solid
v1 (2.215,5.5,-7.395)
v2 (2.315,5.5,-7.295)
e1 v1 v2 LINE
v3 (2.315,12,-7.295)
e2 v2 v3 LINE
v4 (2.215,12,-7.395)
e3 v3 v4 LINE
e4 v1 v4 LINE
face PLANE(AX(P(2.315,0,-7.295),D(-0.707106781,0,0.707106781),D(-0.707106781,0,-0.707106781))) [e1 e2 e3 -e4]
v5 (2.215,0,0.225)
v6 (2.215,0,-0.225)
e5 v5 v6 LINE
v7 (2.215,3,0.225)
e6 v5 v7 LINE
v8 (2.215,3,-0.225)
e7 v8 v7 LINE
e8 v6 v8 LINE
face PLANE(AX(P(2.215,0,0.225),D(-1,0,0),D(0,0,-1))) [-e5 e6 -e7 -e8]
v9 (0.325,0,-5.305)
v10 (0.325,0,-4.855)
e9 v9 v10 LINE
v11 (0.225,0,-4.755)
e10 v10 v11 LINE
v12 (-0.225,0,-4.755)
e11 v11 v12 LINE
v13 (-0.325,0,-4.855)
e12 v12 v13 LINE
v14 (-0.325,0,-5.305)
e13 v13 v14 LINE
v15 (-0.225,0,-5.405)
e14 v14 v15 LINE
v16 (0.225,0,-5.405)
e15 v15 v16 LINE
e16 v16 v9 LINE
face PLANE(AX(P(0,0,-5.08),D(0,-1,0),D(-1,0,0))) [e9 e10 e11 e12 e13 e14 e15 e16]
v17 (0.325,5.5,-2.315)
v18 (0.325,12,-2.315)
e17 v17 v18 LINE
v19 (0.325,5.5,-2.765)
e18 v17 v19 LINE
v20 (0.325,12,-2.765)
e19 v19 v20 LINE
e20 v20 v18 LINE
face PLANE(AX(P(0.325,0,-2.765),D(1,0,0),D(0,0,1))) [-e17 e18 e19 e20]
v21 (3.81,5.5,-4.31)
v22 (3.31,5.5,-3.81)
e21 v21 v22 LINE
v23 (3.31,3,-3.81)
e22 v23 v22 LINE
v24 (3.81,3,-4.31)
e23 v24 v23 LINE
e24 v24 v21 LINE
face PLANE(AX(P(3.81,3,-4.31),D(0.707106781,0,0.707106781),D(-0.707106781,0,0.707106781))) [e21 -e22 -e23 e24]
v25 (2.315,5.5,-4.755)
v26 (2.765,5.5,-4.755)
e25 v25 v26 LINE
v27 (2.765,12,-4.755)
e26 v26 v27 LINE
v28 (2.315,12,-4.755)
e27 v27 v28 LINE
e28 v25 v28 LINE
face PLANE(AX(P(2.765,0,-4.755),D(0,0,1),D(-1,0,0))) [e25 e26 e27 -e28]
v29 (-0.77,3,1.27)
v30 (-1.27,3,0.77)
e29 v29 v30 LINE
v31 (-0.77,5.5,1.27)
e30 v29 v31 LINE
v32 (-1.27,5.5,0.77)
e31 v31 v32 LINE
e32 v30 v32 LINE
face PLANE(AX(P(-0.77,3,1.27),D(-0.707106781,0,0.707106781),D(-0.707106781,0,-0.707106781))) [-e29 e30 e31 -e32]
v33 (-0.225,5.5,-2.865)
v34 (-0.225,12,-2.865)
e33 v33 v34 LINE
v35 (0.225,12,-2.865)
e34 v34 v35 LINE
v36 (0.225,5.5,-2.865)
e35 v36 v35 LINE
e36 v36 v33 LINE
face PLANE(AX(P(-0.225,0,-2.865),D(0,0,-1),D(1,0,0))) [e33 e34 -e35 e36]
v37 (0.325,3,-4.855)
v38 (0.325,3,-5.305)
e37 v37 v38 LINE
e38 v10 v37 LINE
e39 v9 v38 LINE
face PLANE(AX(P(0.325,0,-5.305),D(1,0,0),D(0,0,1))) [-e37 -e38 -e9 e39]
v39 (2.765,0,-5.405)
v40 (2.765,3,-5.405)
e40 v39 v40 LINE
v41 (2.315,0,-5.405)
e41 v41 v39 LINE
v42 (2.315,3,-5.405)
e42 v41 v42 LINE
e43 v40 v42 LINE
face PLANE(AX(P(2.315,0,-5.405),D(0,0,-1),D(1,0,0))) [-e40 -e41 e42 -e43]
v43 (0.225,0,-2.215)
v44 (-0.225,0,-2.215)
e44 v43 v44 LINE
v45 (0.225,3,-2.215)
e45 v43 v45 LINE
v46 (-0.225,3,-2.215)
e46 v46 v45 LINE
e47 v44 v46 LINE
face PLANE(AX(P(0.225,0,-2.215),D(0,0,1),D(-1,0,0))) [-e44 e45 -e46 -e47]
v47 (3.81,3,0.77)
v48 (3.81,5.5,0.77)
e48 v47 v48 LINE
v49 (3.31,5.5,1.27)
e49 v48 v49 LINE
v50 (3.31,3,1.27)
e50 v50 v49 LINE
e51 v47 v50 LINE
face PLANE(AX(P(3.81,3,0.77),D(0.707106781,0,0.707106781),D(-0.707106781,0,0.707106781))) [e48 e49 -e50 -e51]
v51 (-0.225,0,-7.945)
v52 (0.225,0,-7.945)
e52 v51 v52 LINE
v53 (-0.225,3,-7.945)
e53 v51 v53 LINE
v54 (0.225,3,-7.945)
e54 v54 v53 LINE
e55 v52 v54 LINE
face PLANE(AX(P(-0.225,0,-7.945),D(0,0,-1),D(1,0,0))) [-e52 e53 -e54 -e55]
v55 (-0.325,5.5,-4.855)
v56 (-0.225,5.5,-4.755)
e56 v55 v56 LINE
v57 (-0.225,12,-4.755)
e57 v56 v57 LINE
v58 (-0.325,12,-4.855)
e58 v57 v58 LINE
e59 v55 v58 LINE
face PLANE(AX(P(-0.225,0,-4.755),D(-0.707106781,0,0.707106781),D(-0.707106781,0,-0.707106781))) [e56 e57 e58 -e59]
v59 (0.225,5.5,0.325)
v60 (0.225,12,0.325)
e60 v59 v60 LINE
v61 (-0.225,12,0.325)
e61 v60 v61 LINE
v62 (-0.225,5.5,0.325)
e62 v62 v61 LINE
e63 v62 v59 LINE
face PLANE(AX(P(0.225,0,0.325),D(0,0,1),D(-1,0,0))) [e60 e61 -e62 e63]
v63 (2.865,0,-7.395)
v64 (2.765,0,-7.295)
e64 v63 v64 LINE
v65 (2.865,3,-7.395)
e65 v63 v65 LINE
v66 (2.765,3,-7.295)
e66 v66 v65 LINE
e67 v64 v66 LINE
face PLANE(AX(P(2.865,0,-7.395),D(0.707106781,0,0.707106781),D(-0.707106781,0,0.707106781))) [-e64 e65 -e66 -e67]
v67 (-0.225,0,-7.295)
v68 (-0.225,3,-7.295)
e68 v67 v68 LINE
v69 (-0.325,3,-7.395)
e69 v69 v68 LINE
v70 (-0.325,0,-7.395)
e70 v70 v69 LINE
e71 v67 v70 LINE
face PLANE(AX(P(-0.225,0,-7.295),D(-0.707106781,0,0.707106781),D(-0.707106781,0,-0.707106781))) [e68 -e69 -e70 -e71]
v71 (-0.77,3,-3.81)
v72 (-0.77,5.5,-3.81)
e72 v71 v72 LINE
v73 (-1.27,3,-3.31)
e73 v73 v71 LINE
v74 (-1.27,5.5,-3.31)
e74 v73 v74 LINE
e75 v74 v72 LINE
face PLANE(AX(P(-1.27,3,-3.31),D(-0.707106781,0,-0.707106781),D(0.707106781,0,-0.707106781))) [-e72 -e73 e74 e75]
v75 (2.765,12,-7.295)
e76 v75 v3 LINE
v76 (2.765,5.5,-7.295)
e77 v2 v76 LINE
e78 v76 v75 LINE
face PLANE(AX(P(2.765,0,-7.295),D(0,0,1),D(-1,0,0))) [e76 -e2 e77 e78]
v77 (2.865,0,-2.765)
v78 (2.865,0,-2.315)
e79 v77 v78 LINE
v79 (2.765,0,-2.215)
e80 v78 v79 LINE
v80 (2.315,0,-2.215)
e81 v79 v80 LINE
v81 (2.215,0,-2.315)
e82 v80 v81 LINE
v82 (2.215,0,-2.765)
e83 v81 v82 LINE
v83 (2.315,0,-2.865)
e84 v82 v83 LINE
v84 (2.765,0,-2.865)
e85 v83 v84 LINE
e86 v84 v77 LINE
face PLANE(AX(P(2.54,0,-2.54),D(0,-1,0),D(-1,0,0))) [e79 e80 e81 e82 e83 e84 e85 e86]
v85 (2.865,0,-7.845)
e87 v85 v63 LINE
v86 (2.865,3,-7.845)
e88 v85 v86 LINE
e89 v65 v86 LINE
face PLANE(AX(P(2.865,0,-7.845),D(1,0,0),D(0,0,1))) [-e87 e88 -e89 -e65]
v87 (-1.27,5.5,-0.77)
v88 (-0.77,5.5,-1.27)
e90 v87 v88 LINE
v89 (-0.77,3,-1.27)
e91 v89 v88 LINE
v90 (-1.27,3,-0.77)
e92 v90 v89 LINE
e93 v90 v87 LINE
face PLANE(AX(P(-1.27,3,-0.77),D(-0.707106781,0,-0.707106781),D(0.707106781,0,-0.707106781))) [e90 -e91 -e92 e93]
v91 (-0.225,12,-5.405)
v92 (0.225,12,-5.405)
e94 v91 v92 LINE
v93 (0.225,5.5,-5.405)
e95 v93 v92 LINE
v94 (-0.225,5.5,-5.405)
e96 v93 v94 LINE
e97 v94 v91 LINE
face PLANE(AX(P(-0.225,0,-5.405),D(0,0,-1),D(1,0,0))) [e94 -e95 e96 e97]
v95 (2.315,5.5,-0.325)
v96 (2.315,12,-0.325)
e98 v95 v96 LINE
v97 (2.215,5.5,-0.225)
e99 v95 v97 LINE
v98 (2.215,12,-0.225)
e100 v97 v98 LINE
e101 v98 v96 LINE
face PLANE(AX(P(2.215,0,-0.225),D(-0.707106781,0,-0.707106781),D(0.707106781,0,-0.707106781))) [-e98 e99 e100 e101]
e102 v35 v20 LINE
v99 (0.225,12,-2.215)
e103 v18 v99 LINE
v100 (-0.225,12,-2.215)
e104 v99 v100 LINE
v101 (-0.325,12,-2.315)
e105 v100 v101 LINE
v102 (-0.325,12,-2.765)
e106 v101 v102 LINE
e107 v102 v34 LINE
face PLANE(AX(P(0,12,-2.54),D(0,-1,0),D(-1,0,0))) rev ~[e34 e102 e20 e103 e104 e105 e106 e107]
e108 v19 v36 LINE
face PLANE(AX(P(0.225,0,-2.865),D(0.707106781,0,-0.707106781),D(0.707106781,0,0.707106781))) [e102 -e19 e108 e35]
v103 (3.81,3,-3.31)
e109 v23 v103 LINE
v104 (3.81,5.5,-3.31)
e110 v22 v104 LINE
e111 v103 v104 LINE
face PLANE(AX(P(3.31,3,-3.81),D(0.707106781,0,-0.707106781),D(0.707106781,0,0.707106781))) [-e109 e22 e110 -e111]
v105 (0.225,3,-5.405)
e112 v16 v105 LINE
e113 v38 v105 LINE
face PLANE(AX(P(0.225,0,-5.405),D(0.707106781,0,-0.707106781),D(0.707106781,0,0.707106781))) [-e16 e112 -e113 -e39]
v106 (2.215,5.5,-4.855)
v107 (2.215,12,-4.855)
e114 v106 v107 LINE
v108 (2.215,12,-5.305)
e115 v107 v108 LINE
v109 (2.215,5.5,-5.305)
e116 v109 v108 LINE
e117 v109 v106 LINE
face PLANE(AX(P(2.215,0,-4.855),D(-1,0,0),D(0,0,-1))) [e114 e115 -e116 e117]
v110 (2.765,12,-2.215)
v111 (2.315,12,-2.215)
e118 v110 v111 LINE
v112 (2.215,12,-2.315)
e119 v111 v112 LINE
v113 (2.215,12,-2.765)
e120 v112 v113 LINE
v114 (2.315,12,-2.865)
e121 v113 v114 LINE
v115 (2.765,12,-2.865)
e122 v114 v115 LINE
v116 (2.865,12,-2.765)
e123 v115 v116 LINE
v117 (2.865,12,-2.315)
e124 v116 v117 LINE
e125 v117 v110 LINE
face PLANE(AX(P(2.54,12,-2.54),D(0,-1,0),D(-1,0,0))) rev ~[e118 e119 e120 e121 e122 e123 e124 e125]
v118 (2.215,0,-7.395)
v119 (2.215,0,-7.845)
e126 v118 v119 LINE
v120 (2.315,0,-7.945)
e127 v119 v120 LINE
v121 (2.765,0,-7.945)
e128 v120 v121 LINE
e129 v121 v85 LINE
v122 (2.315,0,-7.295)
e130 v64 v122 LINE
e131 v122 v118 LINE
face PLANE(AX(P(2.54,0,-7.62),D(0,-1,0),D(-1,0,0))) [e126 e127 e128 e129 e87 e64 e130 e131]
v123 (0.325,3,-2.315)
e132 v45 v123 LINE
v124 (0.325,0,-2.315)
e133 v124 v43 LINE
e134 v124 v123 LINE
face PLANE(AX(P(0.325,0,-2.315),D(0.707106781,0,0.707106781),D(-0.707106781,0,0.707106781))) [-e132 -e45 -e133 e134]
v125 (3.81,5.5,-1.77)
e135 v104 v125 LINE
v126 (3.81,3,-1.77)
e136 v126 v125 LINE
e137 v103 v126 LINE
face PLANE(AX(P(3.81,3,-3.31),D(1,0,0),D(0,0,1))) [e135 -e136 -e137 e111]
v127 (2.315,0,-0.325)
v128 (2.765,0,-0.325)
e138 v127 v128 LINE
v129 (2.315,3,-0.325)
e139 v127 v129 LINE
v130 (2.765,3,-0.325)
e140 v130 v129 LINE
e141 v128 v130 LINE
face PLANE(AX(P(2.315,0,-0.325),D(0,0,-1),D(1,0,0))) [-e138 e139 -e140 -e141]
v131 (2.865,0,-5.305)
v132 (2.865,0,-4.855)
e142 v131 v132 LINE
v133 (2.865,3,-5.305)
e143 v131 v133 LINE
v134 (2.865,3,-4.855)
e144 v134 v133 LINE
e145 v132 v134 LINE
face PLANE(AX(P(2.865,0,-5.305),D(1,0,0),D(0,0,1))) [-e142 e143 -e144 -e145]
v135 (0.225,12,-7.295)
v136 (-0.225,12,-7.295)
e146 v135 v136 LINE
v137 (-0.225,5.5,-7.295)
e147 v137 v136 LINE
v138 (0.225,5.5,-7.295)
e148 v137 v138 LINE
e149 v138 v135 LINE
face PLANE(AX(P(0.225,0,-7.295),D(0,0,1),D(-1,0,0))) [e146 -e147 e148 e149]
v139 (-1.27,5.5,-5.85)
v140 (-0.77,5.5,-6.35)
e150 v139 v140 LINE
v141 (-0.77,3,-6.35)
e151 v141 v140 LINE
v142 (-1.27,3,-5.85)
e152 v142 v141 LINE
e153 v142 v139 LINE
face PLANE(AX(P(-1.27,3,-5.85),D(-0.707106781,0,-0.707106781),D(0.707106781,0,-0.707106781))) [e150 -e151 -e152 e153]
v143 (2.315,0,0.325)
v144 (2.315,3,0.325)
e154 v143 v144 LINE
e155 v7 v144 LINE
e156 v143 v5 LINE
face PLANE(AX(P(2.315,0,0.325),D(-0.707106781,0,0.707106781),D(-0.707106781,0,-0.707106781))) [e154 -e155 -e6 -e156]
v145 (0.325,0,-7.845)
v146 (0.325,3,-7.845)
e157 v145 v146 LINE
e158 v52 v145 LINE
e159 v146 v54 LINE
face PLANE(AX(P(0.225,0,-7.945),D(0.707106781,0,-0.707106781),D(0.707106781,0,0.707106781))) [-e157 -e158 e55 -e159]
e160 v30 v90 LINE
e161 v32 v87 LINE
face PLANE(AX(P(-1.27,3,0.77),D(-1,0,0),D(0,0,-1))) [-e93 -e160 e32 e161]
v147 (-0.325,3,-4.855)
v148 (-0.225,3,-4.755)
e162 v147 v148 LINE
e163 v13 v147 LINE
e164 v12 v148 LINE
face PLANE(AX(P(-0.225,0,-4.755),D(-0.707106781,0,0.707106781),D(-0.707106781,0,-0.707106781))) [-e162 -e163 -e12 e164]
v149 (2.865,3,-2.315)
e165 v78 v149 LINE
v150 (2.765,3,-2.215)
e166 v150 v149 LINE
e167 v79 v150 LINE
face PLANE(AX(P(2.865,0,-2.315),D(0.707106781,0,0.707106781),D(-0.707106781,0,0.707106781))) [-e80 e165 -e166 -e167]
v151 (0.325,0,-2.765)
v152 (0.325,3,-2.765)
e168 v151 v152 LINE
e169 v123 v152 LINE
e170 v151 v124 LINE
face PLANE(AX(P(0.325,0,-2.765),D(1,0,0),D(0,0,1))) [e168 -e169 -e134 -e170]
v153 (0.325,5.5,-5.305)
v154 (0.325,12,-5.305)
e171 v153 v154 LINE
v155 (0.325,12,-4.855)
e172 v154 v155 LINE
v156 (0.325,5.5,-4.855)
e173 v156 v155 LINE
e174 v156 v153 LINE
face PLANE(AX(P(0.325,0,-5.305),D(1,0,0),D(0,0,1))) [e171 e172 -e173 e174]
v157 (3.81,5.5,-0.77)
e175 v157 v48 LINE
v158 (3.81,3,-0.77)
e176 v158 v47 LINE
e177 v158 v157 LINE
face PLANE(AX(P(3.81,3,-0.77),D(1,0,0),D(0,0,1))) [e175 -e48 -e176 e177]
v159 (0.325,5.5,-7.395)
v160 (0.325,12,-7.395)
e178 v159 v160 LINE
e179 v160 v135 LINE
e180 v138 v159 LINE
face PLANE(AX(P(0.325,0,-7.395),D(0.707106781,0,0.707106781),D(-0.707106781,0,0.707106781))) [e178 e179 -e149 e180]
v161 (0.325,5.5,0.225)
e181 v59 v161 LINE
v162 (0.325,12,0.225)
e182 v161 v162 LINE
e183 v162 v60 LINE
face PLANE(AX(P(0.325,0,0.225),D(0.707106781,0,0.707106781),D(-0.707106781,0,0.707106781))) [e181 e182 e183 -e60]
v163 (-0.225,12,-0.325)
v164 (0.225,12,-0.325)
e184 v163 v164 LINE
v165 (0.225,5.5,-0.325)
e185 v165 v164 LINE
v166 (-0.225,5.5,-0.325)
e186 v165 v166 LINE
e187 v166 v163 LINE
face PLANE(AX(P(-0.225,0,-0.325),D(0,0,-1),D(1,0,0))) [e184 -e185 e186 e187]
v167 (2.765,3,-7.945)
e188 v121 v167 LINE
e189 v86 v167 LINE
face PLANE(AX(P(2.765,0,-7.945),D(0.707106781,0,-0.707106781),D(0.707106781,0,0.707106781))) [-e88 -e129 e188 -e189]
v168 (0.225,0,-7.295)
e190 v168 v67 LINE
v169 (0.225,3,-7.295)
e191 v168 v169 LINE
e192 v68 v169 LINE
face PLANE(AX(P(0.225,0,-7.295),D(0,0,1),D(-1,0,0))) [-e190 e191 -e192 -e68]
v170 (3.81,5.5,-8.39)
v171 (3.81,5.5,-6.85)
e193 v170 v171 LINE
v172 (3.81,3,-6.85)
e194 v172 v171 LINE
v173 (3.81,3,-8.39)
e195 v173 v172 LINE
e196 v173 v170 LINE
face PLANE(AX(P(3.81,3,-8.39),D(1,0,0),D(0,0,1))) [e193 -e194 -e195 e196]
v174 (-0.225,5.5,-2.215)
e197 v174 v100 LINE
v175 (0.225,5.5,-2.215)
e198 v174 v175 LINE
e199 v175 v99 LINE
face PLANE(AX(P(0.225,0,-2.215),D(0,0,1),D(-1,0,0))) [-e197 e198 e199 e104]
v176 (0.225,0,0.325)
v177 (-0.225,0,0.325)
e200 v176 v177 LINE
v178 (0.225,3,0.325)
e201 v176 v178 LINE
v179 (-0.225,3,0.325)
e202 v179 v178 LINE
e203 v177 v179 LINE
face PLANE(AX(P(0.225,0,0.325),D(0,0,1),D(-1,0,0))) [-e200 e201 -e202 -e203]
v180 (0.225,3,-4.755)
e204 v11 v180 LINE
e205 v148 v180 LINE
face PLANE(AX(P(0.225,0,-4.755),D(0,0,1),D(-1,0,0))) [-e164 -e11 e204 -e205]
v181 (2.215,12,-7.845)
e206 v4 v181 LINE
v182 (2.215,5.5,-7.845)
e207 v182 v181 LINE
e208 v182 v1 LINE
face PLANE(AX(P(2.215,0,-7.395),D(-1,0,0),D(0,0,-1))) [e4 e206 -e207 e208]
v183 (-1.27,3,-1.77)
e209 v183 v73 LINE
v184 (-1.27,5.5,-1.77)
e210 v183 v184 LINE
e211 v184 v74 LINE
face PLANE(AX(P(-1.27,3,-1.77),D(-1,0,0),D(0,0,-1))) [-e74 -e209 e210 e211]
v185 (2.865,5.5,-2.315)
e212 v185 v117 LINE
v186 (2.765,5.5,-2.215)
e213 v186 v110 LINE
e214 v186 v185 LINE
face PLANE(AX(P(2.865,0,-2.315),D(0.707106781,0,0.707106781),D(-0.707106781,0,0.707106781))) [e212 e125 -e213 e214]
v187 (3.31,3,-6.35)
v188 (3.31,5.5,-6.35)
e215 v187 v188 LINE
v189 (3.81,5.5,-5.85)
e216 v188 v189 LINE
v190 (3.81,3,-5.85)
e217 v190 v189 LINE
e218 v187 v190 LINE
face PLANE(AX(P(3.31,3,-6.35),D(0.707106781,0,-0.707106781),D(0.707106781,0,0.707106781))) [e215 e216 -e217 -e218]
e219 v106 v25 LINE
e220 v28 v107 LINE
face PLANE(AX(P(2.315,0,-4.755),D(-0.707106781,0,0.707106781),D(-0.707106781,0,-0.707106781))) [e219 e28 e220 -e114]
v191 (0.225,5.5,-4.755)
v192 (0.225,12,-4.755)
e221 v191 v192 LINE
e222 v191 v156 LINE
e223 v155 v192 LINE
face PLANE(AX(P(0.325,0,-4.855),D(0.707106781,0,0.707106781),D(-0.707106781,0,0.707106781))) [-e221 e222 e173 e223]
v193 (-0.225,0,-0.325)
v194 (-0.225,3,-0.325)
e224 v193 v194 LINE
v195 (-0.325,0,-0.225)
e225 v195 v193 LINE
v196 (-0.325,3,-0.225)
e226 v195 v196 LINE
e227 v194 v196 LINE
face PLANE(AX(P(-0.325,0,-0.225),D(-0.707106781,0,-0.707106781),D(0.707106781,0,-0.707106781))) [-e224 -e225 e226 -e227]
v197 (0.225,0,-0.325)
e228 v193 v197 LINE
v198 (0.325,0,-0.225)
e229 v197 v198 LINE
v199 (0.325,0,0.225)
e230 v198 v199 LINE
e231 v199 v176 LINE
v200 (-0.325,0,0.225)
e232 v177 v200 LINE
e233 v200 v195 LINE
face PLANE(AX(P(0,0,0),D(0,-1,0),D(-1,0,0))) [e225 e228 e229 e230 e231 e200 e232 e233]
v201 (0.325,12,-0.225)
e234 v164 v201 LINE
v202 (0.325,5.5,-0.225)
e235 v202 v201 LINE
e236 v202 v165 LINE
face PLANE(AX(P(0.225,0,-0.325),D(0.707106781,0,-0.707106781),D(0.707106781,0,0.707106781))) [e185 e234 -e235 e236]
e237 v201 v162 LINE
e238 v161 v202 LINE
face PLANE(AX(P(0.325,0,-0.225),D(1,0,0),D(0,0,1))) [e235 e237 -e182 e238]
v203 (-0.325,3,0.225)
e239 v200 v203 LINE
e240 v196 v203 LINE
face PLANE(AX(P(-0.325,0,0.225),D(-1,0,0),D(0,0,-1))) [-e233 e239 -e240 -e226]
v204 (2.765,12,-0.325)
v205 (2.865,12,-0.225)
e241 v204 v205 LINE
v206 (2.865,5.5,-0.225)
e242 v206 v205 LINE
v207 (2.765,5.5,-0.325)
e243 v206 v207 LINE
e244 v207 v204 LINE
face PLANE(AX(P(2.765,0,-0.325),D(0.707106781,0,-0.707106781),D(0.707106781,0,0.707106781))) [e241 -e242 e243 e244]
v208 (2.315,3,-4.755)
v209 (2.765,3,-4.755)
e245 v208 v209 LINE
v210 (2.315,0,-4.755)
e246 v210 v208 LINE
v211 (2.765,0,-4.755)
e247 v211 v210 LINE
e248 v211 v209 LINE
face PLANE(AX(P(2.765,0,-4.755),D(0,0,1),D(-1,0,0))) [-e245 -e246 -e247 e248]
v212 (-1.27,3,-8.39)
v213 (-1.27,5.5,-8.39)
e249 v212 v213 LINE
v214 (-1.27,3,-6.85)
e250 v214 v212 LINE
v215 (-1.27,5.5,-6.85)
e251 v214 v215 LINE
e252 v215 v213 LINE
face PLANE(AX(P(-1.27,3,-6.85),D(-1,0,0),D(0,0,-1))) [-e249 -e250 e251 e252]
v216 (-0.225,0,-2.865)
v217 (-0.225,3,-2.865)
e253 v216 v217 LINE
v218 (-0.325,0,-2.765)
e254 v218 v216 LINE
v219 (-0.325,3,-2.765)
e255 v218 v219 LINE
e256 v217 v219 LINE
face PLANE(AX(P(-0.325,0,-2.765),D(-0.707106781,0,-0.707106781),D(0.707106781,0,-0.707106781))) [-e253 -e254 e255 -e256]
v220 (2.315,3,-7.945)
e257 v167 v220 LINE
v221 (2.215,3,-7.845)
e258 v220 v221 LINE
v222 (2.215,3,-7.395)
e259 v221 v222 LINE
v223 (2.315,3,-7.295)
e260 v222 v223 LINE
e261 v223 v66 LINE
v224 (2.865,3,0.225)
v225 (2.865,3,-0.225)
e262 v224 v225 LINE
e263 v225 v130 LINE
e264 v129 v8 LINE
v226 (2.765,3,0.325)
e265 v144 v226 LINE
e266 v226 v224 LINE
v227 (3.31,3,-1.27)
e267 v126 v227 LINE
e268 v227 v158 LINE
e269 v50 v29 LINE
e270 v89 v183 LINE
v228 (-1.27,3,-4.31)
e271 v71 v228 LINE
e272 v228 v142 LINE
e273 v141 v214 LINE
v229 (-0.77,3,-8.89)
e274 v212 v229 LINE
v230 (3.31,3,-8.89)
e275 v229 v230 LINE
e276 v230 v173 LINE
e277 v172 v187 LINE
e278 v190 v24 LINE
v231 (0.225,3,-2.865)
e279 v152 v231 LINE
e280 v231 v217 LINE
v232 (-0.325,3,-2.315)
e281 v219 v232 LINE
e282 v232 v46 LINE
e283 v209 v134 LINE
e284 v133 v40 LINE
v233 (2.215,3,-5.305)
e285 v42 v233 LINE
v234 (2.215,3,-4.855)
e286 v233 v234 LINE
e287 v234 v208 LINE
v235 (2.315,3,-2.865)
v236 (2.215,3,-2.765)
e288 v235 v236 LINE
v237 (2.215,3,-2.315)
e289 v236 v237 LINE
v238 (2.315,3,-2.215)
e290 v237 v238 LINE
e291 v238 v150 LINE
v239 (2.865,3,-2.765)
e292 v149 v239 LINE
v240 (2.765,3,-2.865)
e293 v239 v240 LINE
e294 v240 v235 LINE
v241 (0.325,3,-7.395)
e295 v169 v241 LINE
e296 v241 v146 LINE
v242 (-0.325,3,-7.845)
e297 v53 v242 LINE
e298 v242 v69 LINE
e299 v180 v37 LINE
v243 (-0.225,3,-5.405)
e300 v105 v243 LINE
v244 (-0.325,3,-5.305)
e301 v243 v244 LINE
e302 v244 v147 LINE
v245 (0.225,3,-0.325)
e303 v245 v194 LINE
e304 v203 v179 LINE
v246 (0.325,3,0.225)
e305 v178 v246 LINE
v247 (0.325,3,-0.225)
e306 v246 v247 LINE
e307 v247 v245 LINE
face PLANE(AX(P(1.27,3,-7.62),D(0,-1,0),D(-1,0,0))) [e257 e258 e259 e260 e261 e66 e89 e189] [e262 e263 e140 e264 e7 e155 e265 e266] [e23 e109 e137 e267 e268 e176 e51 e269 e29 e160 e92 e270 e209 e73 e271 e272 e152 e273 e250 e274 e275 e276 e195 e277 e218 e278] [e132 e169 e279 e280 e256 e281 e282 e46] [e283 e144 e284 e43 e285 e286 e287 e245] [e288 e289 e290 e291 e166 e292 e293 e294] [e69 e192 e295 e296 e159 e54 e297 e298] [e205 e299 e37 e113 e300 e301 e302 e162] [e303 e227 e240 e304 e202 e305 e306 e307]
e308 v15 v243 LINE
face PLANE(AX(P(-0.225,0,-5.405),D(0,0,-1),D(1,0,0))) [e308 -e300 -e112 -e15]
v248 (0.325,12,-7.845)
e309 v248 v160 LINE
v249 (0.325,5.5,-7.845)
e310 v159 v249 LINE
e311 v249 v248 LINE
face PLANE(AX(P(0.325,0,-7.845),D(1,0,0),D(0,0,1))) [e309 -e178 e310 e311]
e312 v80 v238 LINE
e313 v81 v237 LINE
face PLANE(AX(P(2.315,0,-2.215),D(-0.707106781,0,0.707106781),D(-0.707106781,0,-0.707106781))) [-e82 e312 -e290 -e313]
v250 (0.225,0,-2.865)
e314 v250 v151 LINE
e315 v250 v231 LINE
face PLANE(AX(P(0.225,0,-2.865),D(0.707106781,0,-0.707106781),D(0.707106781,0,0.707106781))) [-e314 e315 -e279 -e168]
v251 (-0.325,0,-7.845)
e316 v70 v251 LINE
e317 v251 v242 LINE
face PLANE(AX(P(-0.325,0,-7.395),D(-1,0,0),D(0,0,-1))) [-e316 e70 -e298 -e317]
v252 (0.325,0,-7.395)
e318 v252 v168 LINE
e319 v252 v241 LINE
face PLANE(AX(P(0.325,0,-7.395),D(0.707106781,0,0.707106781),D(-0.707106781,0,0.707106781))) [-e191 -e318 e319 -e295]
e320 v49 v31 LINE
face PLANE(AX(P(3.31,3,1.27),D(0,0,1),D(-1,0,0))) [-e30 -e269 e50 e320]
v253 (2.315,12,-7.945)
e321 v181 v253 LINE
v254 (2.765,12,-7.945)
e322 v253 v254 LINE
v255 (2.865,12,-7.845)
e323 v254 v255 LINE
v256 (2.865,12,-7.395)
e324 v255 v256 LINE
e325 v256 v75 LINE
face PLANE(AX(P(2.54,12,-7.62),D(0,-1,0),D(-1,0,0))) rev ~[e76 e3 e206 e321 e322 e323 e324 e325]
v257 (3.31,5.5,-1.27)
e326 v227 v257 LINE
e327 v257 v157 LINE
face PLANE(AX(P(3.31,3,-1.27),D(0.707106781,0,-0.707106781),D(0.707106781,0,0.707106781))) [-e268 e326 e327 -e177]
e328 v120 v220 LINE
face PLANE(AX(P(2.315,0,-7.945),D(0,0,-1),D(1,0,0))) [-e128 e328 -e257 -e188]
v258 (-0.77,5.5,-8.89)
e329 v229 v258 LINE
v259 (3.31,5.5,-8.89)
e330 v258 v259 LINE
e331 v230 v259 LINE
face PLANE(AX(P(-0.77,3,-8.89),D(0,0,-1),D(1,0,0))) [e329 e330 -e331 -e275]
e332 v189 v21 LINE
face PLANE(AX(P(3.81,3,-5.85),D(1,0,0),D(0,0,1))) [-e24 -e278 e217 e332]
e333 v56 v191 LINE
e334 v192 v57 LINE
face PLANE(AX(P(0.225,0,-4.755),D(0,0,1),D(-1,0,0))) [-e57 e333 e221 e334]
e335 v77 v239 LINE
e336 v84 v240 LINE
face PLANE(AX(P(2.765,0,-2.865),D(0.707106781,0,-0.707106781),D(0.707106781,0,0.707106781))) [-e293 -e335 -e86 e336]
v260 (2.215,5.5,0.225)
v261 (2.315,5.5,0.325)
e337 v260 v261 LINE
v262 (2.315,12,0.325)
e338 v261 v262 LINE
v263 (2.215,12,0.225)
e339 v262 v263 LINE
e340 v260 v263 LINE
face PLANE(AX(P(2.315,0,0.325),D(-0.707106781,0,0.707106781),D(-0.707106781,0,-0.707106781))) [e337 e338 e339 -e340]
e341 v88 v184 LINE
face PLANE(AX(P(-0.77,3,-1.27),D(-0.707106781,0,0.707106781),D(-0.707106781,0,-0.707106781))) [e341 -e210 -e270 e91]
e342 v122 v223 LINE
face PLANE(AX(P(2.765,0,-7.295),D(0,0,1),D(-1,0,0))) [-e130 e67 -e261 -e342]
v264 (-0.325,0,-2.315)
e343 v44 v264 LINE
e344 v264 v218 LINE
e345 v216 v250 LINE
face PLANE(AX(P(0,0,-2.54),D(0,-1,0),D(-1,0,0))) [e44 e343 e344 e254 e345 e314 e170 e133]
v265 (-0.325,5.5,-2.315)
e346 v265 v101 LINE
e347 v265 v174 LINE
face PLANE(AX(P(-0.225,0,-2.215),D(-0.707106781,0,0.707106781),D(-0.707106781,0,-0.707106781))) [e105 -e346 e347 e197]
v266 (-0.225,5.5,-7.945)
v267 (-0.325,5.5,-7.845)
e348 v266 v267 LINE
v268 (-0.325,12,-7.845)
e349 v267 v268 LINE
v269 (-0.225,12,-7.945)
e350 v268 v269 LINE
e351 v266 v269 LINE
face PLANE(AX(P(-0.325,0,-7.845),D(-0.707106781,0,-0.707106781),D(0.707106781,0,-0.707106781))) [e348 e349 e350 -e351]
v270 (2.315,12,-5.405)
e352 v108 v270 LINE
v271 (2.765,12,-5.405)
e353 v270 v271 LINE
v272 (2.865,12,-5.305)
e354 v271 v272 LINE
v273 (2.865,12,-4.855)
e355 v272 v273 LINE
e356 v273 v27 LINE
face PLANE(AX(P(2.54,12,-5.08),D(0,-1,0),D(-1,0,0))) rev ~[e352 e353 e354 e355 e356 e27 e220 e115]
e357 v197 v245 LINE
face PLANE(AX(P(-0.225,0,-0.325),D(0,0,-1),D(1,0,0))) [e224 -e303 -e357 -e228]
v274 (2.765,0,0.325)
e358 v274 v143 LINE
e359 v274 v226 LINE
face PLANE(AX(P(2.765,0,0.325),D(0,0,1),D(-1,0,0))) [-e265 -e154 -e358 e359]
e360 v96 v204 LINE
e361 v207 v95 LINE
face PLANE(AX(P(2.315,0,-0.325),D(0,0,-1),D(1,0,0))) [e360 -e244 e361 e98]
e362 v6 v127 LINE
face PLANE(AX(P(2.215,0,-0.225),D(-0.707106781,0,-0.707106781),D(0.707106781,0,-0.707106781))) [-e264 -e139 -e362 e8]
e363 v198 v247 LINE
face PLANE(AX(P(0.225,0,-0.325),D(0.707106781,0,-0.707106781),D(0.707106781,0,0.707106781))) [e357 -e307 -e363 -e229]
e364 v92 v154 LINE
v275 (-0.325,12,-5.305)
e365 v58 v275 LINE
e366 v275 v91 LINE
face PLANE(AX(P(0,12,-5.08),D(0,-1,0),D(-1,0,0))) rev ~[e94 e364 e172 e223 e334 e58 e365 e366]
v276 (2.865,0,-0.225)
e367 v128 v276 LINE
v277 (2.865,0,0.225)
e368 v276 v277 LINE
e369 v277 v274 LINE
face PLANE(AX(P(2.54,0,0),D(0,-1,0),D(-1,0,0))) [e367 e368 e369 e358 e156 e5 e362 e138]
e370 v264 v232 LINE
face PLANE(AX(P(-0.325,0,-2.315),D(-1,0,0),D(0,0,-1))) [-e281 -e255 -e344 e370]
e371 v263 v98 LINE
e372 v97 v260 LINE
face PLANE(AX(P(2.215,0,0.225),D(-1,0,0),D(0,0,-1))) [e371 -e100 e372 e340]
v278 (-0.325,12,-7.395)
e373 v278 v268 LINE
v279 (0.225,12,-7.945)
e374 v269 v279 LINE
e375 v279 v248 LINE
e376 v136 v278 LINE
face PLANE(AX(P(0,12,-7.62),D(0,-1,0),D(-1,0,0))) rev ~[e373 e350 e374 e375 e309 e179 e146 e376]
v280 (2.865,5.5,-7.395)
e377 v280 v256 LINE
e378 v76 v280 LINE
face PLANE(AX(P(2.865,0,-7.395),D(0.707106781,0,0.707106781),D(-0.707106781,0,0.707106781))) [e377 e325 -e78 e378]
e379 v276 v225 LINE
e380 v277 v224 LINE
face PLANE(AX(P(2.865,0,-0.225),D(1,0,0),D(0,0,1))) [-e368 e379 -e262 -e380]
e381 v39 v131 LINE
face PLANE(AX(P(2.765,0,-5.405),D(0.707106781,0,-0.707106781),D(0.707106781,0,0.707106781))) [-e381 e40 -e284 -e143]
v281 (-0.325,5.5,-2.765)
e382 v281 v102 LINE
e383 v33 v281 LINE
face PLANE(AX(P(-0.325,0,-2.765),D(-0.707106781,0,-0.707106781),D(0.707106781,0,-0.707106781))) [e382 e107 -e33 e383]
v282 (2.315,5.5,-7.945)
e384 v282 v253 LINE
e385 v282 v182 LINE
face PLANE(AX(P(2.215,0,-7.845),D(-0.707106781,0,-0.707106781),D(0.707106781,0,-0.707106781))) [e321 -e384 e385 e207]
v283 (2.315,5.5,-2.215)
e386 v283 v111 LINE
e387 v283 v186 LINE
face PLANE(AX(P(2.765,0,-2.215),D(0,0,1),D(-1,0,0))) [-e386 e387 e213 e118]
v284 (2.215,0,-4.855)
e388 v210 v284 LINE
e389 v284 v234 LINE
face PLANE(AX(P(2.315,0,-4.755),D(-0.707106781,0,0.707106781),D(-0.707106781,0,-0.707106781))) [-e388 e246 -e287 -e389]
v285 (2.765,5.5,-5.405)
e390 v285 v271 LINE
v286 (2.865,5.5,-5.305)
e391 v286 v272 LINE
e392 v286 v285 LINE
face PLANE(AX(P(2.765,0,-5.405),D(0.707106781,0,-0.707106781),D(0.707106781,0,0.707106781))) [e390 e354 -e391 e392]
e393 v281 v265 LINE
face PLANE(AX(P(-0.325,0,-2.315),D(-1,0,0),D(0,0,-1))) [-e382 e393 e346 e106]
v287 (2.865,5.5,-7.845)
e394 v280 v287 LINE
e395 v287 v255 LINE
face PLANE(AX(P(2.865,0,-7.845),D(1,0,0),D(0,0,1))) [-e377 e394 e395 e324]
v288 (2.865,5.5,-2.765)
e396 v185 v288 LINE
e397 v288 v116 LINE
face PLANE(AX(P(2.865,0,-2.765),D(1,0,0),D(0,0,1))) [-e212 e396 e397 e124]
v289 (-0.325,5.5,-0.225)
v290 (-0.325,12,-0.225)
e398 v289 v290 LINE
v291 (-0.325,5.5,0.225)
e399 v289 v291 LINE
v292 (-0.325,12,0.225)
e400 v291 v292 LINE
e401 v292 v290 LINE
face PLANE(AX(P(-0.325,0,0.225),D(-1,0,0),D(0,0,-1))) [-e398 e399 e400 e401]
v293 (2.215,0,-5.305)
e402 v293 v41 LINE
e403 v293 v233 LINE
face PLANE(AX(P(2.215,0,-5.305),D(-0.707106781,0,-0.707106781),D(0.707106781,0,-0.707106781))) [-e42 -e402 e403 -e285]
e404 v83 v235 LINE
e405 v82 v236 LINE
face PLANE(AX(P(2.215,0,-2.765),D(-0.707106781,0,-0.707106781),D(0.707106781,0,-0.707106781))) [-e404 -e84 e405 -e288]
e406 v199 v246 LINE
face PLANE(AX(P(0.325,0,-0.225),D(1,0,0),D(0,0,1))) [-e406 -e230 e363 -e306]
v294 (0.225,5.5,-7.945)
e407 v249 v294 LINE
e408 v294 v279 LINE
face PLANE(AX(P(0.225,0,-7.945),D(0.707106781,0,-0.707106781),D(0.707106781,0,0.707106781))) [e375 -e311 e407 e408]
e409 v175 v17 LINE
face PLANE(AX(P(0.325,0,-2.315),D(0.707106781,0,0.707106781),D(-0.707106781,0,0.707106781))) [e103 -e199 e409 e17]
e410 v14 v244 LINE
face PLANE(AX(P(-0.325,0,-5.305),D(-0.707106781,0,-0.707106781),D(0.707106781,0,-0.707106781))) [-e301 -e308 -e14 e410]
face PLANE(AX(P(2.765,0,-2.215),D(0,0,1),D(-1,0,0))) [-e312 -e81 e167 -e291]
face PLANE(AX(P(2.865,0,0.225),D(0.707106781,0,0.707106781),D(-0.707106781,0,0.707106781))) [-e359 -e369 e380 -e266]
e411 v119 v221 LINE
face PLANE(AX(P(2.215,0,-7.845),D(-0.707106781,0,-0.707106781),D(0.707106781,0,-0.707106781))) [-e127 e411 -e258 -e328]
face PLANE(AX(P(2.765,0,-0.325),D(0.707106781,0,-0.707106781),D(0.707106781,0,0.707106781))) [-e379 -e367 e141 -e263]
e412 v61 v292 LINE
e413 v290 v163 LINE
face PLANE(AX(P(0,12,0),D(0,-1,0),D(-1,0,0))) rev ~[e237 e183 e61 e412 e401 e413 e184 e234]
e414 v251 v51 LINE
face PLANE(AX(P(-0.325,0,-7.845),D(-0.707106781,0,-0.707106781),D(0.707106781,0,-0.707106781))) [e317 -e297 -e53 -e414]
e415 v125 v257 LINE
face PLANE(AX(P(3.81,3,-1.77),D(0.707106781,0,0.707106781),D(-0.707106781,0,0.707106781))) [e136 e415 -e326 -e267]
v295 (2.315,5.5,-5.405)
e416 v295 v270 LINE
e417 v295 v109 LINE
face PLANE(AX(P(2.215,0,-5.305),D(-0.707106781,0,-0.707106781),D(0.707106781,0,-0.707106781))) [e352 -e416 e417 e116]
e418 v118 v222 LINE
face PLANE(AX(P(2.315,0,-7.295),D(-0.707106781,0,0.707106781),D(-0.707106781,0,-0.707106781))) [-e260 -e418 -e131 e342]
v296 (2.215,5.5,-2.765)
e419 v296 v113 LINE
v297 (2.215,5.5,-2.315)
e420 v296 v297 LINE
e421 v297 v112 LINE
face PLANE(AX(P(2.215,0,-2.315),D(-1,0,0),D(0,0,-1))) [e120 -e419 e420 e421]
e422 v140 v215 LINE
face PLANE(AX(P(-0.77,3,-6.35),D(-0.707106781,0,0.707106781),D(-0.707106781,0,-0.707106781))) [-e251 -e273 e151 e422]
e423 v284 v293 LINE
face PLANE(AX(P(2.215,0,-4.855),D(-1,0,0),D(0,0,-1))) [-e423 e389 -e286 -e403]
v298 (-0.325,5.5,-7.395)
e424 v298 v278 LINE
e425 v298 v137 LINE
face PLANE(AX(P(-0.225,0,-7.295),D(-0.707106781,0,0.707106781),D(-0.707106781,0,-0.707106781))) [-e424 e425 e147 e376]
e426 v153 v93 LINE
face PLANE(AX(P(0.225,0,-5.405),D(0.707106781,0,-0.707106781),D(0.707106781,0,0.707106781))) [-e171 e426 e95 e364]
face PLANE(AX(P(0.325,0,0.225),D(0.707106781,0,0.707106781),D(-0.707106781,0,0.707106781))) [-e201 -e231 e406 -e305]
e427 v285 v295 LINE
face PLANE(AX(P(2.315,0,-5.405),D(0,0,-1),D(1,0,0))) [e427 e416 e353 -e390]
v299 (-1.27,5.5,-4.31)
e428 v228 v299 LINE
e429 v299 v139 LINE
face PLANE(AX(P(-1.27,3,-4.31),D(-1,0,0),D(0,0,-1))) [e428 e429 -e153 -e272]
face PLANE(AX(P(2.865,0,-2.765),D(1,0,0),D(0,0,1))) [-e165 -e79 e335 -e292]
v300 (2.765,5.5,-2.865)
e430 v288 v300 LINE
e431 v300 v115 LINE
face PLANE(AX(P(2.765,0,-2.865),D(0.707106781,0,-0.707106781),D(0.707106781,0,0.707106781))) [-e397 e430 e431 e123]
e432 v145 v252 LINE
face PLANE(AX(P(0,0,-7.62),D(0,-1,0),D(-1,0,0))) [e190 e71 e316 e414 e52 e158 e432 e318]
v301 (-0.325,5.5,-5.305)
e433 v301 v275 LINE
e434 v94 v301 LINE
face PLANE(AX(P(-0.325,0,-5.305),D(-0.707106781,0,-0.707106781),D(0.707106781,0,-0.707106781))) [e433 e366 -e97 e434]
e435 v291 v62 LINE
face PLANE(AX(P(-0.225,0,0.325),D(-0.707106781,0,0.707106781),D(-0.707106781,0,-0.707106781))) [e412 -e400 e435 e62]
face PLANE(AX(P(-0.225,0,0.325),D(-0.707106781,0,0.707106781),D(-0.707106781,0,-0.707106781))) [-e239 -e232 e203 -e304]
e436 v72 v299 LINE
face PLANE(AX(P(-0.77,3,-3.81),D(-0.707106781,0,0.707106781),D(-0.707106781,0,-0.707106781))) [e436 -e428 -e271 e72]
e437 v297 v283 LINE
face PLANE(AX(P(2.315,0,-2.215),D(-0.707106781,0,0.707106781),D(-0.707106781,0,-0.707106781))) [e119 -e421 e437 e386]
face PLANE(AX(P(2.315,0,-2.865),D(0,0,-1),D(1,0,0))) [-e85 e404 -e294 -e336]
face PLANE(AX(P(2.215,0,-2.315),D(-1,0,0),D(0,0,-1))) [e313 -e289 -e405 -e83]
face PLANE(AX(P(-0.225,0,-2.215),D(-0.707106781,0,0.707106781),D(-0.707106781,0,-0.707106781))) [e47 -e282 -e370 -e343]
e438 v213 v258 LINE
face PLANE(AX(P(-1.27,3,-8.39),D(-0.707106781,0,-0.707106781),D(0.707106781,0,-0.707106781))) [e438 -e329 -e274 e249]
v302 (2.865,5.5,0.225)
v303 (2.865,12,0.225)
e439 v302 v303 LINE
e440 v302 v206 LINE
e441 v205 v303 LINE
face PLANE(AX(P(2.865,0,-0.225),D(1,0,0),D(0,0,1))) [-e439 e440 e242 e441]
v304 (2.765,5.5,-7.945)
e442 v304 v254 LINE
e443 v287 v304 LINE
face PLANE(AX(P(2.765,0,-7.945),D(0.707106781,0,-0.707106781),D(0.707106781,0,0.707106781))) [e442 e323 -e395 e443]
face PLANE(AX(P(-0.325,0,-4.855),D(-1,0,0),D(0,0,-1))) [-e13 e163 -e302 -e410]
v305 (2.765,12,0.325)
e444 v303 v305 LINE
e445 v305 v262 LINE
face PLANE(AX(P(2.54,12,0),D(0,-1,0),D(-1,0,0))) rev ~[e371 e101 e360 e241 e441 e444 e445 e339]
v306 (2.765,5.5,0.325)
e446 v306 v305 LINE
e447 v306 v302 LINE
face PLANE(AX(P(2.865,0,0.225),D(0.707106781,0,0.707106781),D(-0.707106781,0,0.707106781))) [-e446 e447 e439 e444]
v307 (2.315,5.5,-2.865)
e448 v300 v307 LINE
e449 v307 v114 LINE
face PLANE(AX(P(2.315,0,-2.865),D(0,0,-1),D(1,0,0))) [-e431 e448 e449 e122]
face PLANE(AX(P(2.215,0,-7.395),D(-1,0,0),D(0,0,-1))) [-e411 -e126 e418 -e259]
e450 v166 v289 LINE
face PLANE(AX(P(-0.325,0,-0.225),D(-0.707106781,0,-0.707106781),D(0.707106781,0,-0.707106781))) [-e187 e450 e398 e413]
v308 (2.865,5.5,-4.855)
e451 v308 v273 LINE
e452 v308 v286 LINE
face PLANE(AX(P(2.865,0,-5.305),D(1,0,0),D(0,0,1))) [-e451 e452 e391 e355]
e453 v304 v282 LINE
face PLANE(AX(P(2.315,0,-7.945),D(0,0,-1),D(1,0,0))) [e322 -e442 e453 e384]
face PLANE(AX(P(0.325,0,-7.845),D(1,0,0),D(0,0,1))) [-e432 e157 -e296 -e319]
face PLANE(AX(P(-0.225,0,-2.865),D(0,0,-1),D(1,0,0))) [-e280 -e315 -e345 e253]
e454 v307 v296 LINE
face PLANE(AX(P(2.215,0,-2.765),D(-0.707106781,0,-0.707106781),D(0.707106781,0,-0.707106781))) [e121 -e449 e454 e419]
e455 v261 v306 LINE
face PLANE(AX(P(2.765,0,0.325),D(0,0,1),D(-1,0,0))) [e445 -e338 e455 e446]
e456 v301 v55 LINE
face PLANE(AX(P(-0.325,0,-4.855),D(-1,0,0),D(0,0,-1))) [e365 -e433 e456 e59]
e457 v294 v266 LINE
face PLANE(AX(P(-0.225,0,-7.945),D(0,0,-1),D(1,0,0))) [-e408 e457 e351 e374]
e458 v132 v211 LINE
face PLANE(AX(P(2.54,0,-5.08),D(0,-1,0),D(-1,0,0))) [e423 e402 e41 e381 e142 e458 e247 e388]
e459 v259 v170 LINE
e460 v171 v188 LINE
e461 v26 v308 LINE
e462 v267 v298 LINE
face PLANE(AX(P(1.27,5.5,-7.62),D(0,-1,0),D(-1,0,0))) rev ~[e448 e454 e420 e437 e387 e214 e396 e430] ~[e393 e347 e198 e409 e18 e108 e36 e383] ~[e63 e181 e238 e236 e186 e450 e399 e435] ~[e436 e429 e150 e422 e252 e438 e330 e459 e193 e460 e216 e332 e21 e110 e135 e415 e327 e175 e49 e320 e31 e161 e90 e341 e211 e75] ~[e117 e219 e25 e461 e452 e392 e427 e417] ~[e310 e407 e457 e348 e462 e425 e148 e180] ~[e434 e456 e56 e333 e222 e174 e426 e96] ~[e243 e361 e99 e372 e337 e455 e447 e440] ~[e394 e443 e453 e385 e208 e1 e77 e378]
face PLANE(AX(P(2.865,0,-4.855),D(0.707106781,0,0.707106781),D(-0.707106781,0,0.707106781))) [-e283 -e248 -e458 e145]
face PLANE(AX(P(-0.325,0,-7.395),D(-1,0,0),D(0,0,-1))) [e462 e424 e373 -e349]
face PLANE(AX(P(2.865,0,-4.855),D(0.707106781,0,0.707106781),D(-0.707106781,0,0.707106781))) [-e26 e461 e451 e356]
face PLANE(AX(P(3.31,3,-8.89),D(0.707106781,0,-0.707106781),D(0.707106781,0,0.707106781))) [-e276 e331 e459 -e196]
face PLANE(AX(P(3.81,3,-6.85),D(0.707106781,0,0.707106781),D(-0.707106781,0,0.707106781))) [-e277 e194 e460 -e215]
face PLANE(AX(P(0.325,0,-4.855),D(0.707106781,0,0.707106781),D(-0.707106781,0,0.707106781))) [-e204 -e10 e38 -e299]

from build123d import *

# Parameters (mm, degrees)
EXTRUDE_1_DEPTH        = 12
PATTERN_LINEAR_1_COUNT = 2
PATTERN_LINEAR_1_PITCH = 2.54
EXTRUDE_2_DEPTH        = 2.5
PATTERN_LINEAR_2_COUNT = 4
PATTERN_LINEAR_2_PITCH = 2.54


with BuildPart() as part:
    # 草图1 → 凸台-拉伸1 (new body)
    with BuildSketch(Plane(origin=(0, 0, 0), x_dir=(1, 0, 0), z_dir=(0, 1, 0))):
        Polygon((-0.225, -0.325), (-0.325, -0.225), (-0.325, 0.225), (-0.225, 0.325), (0.225, 0.325), (0.325, 0.225), (0.325, -0.225), (0.225, -0.325), align=None)
    extrude(amount=EXTRUDE_1_DEPTH)


with BuildPart() as pattern_linear_1_1:
    # 阵列(线性)1: pattern copy
    add(part.part.moved(Location(Vector(1, 0, 0) * (1 * PATTERN_LINEAR_1_PITCH))))


with BuildPart() as part_1:
    add(part.part)

    add(pattern_linear_1_1.part)  # 凸台-拉伸2 merges 阵列(线性)1_1
    # 草图2 → 凸台-拉伸2 (add)
    with BuildSketch(Plane(origin=(0, 3, 0), x_dir=(-1, 0, 0), z_dir=(0, -1, 0))):
        Polygon((-3.31, 1.27), (-3.81, 0.77), (-3.81, -0.77), (-3.31, -1.27), (0.77, -1.27), (1.27, -0.77), (1.27, 0.77), (0.77, 1.27), align=None)
    extrude(amount=-EXTRUDE_2_DEPTH)


with BuildPart() as pattern_linear_2_1:
    # 阵列(线性)2: pattern copy
    add(part_1.part.moved(Location(Vector(0, 0, -1) * (1 * PATTERN_LINEAR_2_PITCH))))


with BuildPart() as pattern_linear_2_2:
    # 阵列(线性)2: pattern copy
    add(part_1.part.moved(Location(Vector(0, 0, -1) * (2 * PATTERN_LINEAR_2_PITCH))))


with BuildPart() as pattern_linear_2_3:
    # 阵列(线性)2: pattern copy
    add(part_1.part.moved(Location(Vector(0, 0, -1) * (3 * PATTERN_LINEAR_2_PITCH))))


with BuildPart() as part_2:
    add(part_1.part)

    # Combine 1: union 阵列(线性)2_1, 阵列(线性)2_2, 阵列(线性)2_3
    add(pattern_linear_2_1.part)
    add(pattern_linear_2_2.part)
    add(pattern_linear_2_3.part)


solid = part_2.part
